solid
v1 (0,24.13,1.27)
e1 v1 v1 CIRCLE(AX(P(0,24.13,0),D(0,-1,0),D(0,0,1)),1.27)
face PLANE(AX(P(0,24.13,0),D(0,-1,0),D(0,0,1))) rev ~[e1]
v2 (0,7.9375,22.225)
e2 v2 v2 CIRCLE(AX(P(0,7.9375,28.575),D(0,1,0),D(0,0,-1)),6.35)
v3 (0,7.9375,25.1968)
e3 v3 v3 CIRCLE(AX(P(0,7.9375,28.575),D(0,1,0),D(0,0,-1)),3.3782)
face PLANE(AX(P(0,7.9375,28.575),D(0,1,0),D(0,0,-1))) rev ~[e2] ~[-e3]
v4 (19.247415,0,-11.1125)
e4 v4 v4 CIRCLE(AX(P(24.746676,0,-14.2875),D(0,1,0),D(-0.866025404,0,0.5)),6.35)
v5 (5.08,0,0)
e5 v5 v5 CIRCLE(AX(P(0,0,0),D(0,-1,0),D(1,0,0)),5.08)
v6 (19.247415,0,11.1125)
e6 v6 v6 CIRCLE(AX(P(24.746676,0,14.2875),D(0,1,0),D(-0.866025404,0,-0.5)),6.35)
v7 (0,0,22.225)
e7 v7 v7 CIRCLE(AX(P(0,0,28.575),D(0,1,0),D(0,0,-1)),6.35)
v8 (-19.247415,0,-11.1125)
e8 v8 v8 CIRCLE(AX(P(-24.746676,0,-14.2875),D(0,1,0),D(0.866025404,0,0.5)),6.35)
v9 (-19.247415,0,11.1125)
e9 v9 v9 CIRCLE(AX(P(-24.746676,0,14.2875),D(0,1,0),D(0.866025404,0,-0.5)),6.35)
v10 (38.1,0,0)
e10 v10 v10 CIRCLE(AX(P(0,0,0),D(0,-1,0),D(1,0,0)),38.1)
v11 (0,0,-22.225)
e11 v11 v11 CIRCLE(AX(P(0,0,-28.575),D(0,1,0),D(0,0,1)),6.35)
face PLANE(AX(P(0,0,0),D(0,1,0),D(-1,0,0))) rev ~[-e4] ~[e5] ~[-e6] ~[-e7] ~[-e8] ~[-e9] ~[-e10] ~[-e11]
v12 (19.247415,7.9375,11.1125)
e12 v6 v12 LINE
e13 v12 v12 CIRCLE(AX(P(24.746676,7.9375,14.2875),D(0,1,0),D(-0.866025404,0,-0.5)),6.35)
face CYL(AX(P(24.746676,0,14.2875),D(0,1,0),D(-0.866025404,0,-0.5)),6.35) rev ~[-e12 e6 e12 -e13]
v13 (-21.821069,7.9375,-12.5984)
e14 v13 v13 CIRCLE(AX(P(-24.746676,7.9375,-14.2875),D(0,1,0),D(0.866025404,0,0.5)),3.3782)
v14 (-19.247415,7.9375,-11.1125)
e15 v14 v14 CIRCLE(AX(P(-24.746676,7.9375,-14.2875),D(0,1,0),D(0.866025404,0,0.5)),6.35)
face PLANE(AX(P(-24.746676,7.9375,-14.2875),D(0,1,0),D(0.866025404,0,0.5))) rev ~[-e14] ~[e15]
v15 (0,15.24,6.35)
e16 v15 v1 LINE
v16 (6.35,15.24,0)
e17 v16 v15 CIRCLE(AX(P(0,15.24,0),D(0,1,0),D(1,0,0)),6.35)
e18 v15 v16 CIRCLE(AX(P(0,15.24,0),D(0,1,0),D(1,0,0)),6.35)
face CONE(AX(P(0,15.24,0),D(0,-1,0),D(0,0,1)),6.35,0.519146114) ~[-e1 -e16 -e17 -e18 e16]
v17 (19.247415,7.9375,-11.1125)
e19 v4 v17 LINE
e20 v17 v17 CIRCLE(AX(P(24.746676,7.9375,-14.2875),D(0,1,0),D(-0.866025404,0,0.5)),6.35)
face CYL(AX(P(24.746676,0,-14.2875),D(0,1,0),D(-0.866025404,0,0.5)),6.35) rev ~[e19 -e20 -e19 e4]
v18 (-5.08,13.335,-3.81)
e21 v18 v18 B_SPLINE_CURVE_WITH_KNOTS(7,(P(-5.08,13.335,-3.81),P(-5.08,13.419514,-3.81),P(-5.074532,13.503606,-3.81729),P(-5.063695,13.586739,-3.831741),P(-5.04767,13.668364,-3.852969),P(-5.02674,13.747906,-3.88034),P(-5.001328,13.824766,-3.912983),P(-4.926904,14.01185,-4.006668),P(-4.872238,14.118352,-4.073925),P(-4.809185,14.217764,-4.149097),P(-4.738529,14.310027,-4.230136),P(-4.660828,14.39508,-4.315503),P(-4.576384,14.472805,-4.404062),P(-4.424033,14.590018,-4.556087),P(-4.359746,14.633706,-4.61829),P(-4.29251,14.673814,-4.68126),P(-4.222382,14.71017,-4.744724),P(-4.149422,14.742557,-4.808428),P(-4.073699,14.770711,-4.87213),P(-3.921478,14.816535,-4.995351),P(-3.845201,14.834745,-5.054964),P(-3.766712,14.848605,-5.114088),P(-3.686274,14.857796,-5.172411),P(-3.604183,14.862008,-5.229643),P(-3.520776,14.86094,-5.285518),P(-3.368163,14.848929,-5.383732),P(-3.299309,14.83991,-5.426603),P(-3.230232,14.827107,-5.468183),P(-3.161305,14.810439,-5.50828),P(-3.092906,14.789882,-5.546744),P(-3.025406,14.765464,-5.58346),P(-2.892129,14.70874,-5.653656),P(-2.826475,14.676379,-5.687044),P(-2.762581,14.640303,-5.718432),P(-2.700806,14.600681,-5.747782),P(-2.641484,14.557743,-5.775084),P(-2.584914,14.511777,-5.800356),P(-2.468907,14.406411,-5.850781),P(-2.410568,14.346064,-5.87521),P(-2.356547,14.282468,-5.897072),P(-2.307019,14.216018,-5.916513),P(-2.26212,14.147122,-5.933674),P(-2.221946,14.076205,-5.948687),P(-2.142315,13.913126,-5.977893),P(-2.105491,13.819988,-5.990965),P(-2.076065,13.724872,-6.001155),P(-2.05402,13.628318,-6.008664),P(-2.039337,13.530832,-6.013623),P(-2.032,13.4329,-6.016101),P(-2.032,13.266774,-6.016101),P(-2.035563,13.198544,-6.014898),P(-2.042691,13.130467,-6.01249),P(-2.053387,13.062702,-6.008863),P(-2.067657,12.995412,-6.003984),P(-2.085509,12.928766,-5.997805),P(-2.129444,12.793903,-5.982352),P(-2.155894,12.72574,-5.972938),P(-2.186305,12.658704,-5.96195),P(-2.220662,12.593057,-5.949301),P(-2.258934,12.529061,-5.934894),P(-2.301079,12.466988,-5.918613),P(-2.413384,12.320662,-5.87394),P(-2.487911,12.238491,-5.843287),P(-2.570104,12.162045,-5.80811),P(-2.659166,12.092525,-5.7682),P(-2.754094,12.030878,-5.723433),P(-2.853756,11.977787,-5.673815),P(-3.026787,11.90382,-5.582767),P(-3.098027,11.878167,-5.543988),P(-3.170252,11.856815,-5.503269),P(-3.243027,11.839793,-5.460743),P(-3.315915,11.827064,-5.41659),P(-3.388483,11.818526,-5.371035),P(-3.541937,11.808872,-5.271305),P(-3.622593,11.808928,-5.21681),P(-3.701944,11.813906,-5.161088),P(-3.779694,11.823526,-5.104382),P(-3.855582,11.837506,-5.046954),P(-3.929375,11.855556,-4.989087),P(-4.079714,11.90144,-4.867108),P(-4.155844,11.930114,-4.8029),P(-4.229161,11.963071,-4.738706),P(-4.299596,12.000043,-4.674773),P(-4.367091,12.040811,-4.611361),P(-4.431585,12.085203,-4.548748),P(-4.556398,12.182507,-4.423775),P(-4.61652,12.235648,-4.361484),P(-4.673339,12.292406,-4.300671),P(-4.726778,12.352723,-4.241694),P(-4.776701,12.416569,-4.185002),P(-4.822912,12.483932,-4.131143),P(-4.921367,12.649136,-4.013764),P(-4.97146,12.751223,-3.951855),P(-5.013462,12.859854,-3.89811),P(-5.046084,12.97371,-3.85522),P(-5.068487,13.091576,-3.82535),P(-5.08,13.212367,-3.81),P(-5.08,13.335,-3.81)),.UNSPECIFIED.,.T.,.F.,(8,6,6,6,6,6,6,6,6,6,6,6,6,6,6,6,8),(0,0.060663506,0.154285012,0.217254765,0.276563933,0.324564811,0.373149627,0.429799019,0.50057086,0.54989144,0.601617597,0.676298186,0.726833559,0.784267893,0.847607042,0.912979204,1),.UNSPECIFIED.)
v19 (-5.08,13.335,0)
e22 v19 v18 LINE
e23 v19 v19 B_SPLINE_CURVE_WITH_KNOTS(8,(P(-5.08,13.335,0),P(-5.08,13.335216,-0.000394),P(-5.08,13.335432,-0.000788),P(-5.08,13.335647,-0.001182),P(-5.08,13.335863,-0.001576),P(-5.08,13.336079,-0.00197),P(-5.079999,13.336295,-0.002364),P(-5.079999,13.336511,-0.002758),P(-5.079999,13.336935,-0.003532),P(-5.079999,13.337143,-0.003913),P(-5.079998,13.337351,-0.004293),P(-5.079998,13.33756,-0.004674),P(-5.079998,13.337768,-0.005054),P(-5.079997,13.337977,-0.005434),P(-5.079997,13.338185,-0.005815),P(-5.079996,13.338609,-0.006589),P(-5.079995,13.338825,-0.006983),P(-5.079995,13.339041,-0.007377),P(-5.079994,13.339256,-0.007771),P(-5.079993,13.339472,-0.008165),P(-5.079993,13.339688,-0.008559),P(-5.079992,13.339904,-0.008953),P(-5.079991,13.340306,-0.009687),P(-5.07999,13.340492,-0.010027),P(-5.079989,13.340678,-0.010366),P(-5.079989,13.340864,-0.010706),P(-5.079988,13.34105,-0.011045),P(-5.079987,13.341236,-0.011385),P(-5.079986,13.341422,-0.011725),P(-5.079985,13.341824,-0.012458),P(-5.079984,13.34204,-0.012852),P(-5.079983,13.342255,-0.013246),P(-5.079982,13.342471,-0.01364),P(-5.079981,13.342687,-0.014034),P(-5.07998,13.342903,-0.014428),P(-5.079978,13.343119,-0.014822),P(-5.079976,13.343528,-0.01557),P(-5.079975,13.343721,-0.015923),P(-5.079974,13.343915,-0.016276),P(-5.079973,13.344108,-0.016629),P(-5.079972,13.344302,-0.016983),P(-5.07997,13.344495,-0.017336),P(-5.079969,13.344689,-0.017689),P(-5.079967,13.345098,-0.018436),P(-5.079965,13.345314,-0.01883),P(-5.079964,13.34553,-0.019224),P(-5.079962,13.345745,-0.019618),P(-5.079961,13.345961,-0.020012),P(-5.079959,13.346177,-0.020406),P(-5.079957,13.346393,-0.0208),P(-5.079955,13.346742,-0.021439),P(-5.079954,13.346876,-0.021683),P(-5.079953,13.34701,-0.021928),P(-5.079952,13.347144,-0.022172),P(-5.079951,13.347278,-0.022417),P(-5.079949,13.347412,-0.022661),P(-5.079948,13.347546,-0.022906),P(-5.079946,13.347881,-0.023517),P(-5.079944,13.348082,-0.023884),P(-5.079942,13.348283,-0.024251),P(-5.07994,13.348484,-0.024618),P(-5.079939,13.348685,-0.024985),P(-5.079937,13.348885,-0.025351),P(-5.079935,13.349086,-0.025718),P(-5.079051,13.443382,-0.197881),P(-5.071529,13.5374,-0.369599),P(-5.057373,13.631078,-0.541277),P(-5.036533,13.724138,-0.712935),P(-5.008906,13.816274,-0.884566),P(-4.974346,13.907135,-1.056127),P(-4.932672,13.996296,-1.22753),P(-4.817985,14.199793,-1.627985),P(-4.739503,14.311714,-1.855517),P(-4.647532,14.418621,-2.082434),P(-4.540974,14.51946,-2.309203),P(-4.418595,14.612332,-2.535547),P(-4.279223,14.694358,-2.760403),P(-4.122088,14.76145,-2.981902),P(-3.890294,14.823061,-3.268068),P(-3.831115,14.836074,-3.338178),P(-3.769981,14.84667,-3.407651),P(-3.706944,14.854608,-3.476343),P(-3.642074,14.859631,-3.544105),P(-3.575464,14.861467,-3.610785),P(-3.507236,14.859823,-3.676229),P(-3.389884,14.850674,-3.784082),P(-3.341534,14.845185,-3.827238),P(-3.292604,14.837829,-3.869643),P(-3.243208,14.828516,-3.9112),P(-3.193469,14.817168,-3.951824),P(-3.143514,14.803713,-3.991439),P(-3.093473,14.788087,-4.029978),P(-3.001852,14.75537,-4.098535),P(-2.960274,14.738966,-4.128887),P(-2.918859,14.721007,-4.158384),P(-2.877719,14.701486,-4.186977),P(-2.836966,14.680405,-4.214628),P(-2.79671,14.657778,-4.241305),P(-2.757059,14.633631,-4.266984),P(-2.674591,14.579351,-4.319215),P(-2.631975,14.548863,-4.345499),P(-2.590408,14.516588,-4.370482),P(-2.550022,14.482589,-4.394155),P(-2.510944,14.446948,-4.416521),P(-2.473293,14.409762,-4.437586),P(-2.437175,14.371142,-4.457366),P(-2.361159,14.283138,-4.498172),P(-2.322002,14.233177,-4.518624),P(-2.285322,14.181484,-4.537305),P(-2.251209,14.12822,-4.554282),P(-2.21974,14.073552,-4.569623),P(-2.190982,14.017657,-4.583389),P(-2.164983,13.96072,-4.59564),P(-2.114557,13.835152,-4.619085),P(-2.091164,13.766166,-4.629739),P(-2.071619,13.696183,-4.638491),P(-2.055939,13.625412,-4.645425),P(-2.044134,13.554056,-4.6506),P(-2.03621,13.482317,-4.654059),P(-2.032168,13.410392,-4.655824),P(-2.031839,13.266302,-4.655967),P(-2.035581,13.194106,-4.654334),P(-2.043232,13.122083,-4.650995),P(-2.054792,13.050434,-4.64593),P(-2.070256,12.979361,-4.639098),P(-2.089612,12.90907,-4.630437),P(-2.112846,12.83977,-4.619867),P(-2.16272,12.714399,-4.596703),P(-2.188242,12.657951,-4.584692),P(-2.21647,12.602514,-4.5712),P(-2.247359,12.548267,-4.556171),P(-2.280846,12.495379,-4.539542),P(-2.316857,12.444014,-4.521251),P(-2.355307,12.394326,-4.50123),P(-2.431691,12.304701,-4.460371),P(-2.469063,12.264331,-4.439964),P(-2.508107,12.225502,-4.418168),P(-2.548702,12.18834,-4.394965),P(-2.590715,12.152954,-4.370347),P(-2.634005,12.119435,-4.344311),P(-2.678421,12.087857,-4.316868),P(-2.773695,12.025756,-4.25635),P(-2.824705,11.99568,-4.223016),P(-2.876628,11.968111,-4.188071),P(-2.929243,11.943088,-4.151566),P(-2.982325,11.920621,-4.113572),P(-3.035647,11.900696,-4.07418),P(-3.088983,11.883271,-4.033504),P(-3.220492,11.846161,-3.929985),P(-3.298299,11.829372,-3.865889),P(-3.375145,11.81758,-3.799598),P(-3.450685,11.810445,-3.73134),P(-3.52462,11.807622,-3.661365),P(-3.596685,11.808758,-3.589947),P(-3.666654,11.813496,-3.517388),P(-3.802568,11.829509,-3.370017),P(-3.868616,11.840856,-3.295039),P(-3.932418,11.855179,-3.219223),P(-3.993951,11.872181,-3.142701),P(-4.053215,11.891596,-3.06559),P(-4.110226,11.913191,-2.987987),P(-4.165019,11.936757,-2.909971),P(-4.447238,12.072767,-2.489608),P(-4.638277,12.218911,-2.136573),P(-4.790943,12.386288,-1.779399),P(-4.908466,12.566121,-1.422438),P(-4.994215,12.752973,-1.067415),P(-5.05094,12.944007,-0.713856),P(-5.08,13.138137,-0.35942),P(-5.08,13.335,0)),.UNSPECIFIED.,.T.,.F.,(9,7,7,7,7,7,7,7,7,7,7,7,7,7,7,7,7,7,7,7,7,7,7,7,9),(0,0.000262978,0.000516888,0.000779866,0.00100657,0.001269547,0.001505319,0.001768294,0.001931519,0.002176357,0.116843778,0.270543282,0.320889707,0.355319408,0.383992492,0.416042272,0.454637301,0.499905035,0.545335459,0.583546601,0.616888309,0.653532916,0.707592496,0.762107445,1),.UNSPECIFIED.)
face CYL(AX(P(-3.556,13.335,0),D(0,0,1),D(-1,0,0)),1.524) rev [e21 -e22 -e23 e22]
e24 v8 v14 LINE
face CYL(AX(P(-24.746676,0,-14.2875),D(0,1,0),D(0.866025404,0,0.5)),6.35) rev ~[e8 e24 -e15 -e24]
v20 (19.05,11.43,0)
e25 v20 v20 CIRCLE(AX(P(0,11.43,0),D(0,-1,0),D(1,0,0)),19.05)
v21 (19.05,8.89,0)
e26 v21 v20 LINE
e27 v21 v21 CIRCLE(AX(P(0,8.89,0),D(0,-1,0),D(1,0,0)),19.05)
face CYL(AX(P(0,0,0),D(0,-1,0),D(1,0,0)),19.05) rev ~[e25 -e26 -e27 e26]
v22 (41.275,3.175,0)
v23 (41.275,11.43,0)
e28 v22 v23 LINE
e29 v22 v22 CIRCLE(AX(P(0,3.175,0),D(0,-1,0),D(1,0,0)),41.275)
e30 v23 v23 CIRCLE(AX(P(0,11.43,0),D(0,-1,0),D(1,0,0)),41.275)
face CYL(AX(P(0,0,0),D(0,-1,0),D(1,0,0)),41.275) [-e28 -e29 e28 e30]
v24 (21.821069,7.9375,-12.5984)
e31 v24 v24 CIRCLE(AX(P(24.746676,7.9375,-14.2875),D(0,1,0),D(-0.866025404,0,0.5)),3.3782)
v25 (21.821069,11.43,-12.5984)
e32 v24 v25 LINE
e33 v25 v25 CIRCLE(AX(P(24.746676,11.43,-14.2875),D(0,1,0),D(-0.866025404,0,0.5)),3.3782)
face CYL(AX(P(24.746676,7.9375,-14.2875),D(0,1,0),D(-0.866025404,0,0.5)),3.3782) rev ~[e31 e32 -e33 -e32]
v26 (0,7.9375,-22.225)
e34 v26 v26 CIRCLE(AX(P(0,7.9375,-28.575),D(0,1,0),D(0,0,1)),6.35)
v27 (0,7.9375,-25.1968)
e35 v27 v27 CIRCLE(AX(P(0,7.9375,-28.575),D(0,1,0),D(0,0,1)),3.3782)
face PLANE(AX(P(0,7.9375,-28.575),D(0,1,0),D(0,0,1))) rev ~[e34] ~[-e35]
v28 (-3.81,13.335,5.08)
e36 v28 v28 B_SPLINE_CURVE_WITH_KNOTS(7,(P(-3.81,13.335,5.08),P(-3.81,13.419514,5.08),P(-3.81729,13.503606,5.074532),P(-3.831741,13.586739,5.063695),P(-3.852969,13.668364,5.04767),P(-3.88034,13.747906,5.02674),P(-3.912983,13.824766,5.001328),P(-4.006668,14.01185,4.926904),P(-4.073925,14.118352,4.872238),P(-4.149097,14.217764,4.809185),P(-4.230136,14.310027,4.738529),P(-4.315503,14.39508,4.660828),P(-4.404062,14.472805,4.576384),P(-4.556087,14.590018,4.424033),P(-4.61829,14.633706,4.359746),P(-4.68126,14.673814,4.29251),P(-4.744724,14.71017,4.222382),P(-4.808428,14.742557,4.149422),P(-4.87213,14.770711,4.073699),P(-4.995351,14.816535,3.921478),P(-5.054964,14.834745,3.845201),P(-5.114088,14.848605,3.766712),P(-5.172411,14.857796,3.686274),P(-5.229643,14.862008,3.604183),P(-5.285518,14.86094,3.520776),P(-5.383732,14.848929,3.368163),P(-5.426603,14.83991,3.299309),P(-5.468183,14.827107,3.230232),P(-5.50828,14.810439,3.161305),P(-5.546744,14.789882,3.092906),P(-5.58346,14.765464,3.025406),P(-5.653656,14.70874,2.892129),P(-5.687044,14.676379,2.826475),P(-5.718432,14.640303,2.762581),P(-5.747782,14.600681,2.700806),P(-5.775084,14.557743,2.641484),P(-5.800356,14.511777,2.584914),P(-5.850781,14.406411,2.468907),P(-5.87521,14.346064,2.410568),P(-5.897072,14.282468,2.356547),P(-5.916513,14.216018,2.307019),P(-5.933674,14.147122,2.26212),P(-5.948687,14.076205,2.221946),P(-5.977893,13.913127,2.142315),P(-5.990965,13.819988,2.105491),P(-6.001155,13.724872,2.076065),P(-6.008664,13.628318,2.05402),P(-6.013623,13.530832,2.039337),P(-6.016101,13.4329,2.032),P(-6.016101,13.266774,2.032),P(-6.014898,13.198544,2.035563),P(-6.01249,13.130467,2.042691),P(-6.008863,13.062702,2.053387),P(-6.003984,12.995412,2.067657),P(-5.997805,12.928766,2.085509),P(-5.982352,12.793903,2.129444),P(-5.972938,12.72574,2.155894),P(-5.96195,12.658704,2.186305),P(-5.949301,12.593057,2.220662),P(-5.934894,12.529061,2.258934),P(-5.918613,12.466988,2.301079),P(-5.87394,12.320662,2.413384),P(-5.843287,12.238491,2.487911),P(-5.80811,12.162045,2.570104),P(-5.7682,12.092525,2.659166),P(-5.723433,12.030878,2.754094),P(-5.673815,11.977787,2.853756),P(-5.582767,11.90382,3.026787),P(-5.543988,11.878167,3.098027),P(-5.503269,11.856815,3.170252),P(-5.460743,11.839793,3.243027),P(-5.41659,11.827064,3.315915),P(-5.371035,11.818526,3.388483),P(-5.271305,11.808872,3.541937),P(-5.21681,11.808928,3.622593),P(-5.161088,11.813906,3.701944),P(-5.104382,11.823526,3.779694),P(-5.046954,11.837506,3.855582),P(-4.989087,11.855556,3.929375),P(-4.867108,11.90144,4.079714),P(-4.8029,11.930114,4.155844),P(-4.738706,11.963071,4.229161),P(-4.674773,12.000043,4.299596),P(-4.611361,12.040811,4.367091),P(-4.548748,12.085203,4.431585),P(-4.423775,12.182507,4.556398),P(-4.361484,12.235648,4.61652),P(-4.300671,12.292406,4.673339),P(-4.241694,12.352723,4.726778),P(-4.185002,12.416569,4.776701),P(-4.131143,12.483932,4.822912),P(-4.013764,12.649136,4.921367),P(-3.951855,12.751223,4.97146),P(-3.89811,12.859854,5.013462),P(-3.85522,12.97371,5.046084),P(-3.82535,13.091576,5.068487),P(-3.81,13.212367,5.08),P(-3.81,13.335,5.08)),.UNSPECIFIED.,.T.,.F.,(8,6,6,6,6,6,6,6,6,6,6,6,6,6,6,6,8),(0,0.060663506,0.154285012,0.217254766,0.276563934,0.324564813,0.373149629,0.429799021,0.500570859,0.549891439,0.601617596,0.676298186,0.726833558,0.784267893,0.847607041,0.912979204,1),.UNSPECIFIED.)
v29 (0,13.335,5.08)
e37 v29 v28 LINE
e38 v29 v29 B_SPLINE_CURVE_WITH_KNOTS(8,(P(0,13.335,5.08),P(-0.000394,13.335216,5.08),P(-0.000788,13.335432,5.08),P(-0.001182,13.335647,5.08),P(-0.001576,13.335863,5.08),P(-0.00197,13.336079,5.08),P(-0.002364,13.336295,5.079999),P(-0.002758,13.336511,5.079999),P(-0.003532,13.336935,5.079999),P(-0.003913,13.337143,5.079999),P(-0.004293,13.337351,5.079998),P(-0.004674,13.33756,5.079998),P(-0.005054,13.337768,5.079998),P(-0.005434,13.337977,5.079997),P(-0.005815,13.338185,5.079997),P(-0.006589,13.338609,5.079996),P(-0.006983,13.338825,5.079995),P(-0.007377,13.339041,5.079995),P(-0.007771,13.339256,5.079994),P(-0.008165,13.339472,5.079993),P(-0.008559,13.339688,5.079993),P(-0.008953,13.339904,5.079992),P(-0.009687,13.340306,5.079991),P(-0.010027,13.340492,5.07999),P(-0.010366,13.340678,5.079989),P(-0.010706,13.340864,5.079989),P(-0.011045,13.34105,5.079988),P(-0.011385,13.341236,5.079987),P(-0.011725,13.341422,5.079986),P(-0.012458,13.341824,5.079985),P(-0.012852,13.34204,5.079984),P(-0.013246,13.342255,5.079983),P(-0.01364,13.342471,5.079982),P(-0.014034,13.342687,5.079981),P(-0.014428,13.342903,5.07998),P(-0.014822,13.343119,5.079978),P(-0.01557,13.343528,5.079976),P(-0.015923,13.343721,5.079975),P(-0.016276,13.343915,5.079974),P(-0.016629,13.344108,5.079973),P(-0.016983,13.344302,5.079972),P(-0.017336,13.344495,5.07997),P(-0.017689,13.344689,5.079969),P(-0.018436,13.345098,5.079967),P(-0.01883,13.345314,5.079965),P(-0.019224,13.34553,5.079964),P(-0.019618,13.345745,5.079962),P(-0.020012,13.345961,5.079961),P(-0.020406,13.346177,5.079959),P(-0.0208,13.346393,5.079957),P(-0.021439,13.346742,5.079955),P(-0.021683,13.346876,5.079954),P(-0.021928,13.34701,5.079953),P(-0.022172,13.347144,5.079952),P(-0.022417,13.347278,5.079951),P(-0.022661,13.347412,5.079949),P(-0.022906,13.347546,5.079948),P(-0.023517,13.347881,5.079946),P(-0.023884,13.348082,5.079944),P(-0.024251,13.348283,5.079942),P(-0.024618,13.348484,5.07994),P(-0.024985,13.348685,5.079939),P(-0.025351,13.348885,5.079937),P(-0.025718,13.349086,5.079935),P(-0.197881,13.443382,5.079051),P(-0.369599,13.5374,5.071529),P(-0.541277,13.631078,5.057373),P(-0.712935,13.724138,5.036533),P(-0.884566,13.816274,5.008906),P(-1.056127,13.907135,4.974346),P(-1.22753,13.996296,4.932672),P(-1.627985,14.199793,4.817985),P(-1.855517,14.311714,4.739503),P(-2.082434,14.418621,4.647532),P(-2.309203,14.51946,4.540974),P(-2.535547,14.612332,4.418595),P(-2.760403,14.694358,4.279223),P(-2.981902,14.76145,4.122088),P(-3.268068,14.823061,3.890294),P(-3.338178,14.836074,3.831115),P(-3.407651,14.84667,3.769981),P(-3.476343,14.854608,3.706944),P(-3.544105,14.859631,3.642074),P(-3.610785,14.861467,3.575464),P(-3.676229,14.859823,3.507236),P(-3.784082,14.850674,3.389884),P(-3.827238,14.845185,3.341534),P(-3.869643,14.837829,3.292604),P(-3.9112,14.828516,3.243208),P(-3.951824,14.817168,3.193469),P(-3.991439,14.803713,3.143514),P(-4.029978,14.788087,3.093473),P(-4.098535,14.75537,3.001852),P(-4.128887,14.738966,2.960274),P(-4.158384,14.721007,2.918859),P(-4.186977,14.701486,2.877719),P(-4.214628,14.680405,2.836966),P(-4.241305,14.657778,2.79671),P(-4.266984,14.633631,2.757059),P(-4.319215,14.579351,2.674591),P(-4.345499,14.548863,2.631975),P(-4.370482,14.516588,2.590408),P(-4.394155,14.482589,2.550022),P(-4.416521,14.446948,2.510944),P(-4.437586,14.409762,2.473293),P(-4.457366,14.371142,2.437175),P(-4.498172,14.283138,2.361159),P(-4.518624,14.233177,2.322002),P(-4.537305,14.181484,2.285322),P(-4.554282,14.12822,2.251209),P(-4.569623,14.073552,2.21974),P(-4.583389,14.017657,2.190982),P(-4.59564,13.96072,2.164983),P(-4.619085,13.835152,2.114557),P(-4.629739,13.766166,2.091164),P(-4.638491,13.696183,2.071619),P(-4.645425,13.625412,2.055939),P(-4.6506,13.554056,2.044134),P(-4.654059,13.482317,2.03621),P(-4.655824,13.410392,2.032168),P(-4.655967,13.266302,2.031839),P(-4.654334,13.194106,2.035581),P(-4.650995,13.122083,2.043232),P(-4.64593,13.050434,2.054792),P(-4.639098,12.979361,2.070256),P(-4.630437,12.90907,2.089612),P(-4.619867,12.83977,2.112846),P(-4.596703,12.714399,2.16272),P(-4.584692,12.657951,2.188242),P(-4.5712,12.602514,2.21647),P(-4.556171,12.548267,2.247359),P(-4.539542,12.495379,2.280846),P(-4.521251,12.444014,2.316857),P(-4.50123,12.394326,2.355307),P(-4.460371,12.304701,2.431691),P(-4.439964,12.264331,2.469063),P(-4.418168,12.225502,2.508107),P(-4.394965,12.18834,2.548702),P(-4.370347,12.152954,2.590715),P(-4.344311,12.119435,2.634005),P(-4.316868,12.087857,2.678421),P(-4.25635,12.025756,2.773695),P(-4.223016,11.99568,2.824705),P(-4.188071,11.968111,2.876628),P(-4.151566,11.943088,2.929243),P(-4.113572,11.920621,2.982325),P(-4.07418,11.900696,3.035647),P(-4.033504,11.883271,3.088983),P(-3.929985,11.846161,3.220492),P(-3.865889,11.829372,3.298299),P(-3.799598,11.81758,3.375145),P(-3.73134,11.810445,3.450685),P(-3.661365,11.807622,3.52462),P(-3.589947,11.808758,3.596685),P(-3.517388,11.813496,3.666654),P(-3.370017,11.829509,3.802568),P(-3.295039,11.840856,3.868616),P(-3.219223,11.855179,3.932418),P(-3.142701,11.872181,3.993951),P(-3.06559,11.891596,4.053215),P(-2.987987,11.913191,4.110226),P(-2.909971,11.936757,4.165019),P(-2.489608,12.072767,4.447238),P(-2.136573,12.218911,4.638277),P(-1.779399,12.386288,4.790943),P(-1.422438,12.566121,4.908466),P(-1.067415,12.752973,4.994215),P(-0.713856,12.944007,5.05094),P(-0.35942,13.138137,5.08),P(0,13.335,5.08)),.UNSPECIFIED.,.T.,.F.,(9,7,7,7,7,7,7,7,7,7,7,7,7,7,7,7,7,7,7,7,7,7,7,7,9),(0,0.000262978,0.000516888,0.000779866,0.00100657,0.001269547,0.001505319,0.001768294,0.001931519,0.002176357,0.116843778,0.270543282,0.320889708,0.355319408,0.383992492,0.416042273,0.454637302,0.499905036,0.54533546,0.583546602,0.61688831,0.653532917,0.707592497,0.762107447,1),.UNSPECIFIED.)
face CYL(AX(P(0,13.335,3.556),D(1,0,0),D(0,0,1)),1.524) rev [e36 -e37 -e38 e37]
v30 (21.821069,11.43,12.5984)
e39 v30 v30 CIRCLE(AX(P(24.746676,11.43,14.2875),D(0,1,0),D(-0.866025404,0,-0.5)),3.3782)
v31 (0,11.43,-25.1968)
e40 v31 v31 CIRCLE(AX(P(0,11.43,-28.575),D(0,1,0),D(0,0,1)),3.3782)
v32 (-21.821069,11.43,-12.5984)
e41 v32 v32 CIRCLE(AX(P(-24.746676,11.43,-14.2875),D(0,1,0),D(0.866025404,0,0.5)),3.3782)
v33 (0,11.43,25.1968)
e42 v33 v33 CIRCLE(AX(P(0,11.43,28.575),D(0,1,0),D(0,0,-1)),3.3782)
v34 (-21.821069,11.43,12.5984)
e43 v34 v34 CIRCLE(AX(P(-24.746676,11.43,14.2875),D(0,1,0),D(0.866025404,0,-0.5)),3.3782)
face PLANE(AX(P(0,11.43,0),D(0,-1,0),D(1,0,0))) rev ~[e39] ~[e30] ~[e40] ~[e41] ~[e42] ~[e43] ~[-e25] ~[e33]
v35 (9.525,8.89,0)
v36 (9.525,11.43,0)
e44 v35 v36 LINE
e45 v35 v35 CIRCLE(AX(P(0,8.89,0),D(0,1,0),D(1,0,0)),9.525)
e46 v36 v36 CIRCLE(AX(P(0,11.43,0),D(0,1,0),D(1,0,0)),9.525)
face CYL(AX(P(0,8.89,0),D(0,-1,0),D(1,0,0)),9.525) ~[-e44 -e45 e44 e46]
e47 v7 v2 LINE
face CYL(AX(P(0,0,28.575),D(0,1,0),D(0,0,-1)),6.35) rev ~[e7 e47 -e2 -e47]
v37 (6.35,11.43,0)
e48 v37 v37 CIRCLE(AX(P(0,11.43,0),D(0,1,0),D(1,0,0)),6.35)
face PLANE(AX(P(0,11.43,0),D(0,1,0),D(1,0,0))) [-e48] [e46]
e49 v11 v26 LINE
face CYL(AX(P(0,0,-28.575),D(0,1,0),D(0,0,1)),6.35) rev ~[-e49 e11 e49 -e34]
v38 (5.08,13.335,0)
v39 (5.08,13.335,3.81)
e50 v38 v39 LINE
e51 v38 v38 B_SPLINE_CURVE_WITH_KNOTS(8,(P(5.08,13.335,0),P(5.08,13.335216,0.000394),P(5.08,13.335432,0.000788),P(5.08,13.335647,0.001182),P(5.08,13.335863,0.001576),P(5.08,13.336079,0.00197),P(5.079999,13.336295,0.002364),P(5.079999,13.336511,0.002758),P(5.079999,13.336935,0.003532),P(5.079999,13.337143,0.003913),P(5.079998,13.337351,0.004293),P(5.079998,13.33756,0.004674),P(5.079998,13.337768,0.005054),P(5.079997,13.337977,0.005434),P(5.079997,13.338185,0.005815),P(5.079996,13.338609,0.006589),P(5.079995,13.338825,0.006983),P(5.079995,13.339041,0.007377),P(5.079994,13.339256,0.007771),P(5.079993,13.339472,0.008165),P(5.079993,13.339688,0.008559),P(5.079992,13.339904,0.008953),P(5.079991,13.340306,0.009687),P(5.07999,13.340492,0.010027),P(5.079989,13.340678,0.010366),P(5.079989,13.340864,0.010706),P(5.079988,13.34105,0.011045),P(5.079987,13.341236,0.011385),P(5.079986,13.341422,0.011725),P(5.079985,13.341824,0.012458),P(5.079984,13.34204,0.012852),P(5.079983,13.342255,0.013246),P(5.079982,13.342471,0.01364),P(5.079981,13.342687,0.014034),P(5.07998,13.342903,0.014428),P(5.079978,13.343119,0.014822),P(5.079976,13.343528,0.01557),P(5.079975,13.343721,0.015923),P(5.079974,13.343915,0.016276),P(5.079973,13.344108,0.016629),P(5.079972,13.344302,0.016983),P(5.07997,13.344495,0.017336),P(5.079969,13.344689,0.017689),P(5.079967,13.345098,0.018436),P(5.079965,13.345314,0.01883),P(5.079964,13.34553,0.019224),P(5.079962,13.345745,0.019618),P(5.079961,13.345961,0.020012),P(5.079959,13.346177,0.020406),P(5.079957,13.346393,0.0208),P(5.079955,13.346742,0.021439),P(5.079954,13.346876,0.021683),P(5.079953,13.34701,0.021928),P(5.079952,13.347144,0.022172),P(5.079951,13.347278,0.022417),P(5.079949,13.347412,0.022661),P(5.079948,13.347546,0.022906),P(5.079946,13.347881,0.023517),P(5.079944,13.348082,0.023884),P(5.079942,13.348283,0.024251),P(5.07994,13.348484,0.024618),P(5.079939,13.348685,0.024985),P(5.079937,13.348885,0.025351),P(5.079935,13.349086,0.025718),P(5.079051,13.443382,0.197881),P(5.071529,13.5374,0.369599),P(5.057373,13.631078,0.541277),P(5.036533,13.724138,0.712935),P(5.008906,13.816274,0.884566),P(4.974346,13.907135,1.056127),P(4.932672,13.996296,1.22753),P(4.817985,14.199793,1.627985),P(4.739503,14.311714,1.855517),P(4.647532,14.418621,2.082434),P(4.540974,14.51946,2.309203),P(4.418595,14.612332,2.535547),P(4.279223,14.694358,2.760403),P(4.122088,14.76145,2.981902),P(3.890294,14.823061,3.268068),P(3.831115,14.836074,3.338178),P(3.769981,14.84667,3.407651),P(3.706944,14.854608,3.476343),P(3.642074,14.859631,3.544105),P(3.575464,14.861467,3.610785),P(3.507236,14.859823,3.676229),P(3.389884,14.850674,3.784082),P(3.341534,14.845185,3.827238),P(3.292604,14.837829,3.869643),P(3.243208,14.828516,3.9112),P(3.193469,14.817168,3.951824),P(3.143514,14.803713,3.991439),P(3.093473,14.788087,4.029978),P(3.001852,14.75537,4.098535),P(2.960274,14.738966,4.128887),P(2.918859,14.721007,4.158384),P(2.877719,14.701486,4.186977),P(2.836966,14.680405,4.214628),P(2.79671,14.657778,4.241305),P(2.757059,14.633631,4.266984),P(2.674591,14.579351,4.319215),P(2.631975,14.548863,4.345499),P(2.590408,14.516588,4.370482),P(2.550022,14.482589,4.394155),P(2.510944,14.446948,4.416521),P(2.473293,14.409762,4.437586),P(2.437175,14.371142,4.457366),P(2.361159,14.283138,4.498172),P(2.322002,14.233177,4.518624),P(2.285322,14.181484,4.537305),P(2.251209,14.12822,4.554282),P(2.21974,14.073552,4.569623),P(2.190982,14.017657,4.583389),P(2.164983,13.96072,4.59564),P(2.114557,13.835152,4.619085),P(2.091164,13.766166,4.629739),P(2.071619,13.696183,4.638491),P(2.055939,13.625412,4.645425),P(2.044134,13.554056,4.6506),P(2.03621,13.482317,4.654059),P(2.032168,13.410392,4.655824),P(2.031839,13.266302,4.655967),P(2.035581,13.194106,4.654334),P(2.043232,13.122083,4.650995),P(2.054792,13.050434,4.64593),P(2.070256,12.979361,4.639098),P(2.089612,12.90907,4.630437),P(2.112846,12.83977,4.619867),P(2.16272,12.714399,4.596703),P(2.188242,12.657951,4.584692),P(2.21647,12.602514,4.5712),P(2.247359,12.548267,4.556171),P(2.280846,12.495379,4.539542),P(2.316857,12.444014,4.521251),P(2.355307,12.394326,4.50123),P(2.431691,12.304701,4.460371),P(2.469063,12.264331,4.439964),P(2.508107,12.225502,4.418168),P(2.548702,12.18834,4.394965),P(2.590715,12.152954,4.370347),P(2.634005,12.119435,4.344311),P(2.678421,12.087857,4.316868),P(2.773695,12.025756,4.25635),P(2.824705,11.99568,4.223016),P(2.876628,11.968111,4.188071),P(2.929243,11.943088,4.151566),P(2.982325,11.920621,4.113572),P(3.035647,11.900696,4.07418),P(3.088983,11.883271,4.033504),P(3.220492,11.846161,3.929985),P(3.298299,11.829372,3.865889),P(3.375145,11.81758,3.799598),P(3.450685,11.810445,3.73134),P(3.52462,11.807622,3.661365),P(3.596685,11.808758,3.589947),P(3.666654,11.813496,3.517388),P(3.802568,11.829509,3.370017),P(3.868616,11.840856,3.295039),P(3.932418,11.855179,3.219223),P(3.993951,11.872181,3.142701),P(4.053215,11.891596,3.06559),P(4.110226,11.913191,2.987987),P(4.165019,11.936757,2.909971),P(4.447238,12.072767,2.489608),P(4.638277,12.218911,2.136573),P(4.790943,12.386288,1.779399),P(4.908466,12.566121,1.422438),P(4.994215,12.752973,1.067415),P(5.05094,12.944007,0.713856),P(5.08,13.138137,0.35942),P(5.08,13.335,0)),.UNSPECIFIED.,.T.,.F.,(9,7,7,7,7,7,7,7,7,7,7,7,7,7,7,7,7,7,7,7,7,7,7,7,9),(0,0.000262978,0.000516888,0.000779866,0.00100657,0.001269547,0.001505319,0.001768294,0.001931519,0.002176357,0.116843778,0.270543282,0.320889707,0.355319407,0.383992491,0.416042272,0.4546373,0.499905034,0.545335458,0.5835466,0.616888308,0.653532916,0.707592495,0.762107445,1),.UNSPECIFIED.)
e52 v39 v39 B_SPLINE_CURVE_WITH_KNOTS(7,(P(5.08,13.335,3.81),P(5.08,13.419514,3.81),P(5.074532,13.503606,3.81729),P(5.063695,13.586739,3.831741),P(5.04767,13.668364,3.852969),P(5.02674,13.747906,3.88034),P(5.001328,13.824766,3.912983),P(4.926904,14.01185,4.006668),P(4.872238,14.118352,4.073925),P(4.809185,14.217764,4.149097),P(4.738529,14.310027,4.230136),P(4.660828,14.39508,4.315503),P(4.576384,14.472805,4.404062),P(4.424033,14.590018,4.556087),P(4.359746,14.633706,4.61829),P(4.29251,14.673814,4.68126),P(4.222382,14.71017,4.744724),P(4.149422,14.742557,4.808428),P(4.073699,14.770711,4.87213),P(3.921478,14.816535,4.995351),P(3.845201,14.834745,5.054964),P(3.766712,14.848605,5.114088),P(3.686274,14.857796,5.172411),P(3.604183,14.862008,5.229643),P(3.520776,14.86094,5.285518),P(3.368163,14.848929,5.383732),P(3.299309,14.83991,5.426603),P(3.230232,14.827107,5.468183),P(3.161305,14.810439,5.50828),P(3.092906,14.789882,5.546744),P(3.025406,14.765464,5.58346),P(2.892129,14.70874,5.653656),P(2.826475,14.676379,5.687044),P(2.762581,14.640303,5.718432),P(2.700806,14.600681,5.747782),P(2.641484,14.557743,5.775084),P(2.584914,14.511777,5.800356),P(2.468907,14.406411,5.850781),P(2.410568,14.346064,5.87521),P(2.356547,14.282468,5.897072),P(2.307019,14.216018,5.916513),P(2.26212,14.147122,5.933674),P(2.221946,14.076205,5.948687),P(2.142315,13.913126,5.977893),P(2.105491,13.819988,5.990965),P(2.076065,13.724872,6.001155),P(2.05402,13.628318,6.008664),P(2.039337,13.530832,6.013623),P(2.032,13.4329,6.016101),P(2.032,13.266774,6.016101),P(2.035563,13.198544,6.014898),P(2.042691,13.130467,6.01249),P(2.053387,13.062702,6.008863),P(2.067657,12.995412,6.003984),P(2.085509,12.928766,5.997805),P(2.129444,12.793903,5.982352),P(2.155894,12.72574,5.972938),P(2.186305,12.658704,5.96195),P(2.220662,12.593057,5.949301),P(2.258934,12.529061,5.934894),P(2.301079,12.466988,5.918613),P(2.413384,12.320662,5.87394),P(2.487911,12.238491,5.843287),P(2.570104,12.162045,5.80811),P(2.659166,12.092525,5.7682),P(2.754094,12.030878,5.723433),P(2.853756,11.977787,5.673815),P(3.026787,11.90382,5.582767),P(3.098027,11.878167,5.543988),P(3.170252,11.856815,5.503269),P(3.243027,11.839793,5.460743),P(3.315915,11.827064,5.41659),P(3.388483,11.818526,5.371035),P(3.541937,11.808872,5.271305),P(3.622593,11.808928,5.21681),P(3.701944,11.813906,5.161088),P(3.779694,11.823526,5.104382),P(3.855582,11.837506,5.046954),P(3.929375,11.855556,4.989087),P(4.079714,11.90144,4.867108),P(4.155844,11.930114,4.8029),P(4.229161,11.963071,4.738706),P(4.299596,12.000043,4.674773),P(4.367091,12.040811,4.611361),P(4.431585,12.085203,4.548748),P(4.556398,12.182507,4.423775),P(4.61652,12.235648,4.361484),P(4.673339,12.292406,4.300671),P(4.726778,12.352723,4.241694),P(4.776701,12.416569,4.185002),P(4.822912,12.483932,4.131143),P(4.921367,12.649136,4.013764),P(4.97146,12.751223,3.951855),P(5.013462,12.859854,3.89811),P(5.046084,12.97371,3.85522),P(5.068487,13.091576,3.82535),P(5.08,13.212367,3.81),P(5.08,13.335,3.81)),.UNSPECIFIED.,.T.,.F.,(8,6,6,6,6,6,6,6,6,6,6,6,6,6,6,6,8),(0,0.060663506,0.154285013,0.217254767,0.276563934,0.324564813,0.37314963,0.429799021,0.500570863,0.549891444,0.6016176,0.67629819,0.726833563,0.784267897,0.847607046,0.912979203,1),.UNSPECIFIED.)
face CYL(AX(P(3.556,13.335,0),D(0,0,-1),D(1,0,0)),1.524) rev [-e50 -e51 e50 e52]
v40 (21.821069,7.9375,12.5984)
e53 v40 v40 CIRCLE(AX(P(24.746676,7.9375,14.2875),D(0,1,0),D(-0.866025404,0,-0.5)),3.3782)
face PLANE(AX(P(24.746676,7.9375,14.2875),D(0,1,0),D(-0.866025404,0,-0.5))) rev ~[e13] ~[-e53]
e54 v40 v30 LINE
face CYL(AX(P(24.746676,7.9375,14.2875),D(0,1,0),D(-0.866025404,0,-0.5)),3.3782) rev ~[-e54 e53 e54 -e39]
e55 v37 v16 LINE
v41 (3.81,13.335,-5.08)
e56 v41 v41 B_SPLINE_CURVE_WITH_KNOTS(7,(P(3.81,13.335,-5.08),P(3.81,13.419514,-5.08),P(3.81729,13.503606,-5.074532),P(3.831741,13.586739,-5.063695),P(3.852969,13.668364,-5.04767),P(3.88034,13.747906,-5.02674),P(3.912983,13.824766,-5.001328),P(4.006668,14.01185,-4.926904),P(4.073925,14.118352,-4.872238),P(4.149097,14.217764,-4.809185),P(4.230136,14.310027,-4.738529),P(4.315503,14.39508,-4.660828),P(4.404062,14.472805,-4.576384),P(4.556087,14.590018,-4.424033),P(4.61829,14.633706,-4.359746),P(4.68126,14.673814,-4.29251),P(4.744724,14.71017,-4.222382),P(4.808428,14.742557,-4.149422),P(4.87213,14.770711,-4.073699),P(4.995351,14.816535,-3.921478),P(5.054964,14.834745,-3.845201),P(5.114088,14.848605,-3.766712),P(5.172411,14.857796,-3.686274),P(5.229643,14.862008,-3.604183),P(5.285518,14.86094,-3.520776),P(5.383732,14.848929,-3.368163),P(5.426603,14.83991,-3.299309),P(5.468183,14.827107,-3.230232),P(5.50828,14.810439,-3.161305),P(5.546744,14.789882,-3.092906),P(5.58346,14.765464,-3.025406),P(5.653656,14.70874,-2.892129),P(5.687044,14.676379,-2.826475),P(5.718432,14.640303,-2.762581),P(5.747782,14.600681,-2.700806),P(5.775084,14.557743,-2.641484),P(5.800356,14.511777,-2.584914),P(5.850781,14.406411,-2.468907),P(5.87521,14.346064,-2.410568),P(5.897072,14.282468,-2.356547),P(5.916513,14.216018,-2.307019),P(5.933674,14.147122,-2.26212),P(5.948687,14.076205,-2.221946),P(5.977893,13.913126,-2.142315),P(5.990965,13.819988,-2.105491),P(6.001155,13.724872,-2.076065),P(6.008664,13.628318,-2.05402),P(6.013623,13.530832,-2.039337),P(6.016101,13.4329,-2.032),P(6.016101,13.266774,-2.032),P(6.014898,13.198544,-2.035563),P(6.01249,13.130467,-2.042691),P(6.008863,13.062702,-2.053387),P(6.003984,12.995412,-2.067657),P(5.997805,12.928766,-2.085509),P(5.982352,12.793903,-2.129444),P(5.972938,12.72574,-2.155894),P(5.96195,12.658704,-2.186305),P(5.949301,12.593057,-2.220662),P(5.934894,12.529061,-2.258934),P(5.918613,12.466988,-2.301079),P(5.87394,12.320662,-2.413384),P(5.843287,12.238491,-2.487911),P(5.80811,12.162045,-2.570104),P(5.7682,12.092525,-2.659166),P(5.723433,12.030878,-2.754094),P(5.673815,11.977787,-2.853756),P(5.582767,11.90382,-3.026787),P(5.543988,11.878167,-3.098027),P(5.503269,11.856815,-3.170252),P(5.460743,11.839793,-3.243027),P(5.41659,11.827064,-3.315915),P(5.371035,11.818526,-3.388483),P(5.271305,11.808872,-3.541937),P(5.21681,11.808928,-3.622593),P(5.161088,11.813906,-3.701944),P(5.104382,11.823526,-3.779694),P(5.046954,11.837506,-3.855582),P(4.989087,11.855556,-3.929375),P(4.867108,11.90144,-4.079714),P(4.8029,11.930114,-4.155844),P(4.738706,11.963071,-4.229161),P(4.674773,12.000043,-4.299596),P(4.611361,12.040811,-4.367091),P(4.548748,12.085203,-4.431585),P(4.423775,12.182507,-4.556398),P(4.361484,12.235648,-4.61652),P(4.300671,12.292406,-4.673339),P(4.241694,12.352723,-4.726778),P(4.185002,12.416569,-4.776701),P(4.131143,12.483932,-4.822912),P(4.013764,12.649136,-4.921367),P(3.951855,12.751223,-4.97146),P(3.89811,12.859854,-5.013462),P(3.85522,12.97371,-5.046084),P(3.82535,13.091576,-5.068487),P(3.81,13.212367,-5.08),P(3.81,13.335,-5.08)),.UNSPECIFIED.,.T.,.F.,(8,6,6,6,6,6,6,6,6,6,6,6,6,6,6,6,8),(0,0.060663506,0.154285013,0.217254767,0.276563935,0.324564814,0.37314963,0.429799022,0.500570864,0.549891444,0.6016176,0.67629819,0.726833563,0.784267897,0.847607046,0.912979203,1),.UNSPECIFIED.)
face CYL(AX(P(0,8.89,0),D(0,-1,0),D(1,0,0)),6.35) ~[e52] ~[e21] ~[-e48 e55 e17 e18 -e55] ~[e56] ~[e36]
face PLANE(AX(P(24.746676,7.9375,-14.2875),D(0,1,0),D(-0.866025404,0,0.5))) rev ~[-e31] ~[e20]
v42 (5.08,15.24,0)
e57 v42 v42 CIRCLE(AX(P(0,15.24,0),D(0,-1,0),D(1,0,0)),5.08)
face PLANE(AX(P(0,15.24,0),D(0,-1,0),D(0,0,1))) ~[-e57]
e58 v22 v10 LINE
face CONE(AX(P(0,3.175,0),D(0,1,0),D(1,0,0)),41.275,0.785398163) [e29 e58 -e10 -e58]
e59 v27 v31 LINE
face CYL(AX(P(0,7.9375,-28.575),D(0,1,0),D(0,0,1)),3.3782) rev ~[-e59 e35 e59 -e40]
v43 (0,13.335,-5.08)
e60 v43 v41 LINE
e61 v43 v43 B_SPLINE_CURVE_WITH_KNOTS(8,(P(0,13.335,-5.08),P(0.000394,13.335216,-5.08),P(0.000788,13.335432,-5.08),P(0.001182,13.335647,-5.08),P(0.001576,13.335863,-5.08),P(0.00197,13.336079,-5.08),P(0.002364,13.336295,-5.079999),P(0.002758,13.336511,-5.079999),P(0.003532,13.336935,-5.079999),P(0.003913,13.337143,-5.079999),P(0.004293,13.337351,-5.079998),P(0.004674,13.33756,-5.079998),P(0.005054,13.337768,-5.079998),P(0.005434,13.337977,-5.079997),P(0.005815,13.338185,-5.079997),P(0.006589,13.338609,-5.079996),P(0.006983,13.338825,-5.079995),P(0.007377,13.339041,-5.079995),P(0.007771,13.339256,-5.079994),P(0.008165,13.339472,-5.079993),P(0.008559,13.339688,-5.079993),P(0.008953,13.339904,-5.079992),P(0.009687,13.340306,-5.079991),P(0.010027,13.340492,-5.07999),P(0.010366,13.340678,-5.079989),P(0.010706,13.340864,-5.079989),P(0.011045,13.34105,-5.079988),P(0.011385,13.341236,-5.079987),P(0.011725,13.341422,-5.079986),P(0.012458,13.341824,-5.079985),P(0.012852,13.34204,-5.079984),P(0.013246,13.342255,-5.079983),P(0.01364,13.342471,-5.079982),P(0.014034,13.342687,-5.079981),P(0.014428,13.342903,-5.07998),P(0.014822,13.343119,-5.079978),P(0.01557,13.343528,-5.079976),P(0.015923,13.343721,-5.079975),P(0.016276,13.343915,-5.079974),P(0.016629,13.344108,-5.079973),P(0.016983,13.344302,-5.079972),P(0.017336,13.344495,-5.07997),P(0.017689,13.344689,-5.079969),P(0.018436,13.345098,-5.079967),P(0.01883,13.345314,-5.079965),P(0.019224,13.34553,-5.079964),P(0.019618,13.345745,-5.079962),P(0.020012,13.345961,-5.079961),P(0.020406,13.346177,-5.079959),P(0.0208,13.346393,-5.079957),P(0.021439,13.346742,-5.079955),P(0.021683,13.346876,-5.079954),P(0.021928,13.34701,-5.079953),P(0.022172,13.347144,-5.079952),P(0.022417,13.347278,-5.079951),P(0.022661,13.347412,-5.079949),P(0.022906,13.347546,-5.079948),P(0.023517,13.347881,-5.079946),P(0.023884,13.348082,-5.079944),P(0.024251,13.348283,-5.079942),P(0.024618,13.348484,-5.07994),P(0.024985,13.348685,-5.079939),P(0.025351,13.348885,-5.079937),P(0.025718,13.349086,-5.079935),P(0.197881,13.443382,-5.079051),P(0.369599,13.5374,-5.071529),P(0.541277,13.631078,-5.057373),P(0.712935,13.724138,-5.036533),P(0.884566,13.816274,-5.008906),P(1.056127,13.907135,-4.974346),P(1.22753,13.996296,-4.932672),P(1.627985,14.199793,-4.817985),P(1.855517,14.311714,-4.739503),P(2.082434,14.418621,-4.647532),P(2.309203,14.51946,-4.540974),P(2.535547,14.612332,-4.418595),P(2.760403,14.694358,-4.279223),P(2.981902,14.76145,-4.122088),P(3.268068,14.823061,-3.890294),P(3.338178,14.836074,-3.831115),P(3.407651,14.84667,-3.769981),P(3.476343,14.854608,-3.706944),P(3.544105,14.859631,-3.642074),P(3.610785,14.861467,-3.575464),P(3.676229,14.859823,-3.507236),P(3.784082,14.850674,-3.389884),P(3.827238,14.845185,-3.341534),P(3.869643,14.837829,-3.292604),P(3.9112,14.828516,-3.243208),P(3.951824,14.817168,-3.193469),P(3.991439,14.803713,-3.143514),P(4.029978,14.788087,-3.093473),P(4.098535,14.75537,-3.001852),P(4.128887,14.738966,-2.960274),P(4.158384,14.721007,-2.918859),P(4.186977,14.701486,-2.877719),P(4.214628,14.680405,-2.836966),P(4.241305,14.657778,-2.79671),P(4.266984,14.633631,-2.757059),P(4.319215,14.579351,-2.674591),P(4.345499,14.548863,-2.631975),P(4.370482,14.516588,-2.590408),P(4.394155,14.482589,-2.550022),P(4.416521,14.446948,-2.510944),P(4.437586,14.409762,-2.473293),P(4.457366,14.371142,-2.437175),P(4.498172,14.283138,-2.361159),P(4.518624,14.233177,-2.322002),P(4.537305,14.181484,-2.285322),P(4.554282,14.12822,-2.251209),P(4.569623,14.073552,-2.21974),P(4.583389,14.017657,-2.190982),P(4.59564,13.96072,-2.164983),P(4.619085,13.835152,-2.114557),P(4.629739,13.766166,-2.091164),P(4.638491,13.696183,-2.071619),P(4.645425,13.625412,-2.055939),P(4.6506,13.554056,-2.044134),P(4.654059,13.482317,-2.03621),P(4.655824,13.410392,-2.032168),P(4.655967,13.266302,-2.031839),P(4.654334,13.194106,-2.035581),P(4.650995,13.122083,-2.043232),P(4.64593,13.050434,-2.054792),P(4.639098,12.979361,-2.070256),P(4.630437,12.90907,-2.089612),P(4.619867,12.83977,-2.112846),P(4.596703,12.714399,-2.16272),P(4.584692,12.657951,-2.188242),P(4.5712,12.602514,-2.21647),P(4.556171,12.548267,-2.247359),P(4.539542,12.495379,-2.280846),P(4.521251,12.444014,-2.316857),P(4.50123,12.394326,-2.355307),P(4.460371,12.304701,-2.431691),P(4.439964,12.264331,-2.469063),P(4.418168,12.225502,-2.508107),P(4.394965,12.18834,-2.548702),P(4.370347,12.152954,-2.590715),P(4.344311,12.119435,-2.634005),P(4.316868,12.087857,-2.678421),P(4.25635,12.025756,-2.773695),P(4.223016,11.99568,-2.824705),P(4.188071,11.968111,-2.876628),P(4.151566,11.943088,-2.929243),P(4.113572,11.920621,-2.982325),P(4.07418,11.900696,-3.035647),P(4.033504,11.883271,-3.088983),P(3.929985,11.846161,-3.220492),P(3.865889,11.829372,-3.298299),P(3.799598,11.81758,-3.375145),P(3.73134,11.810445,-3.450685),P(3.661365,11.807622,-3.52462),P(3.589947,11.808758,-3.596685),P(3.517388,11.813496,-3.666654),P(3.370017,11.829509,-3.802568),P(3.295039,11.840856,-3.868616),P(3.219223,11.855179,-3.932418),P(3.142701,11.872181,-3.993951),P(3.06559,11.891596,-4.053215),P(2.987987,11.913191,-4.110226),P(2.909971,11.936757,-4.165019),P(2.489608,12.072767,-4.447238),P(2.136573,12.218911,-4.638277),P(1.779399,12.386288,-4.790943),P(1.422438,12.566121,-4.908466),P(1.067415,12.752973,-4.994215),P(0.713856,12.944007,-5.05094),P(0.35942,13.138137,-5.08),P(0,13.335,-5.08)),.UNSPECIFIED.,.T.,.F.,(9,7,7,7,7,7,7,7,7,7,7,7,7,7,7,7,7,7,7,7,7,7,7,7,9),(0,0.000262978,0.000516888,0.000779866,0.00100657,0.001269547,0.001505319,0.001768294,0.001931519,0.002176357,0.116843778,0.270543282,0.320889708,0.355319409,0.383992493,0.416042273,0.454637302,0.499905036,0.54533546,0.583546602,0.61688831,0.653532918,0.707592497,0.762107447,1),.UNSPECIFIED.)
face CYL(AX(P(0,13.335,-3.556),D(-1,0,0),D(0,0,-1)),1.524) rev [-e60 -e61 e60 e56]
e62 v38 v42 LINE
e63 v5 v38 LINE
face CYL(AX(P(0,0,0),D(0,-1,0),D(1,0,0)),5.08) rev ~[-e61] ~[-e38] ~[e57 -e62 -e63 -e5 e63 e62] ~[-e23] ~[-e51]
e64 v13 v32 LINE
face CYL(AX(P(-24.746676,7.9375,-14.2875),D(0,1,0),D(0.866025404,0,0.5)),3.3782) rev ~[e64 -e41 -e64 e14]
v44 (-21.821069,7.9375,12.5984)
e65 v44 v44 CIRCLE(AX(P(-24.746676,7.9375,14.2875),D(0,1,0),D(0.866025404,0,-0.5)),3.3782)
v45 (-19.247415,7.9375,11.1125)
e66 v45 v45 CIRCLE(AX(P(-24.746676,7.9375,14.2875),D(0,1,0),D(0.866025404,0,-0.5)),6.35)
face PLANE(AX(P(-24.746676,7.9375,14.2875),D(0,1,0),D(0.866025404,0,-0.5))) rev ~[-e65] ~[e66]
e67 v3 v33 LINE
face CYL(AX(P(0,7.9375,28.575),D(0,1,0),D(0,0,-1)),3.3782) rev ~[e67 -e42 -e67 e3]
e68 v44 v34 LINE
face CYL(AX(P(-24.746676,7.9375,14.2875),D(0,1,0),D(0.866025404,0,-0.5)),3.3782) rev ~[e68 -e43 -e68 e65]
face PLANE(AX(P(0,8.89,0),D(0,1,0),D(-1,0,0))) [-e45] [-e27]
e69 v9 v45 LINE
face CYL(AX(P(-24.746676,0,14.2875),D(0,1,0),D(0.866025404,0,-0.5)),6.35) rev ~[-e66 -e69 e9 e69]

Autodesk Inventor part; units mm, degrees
ref_plane "YZ Plane" through (0, 0, 0) normal (1, 0, 0) x (0, 1, 0)
ref_plane "XZ Plane" through (0, 0, 0) normal (0, 1, 0) x (-1, 0, 0)
ref_plane "XY Plane" through (0, 0, 0) normal (0, 0, 1) x (1, 0, 0)
sketch "Sketch1" plane through (0, 0, 0) normal (0, 1, 0) x (-1, 0, 0)
  circle A0 centre (0, 0) radius 19.05
  dimension "d0" = 38.1
extrude "Extrusion1" add sketch "Sketch1" along normal blind 8.89
sketch "Sketch14" plane through (0, 0, 0) normal (0, -1, 0) x (1, 0, 0)
  circle A0 centre (0, 0) radius 19.05
  circle A1 centre (0, 0) radius 41.275
  circle A2 centre (0, 0) radius 19.05 projected
  dimension "d89" = 82.55
extrude "Extrusion7" add sketch "Sketch14" against normal blind 11.43
sketch "Sketch2" plane through (0, 0, 0) normal (0, -1, 0) x (1, 0, 0)
  point P0 (0, 0)
  point P1 (0, 28.575)
  dimension "d27" = 28.575
hole "Hole1" at (0, 0, 28.575) direction (0, 1, 0) diameter 6.7564 end through all counterbore diameter 12.7 counterbore depth 7.9375 clearance for "Socket Head Cap Screw" size "1/4" standard "Ansi Unified Screw Threads"
pattern_circular "Circular Pattern1" count 6 over 360 about axis through (0, -10, 0) along (0, 1, 0) of "Hole1"
sketch "Sketch4" plane through (0, 8.89, 0) normal (0, 1, 0) x (1, 0, 0)
  circle A0 centre (0, 0) radius 6.35
  dimension "d15" = 12.7
extrude "Extrusion2" add sketch "Sketch4" along normal blind 6.35
sketch "Sketch5" plane through (0, 0, 0) normal (0, -1, 0) x (1, 0, 0)
  circle A0 centre (0, 0) radius 5.08
  dimension "d18" = 10.16
extrude "Extrusion3" cut sketch "Sketch5" against normal through all
sketch "Sketch6" plane through (0, 0, 0) normal (1, 0, 0) x (0, 1, 0)
  line L0 (15.24, -6.35) -> (15.24, 6.35) projected
  line L1 (24.13, 0) -> (15.24, 0)
  line L2 (15.24, 6.35) -> (24.13, 1.27)
  line L3 (24.13, 1.27) -> (24.13, 0)
  point P0 (0, 0)
  dimension "d22" = 8.89
  dimension "d28" = 1.27
revolve "Revolution1" add sketch "Sketch6" angle 360 about axis through (0, 24.13, 0) along (0, -1, 0)
sketch "Sketch7" plane through (0, 8.89, 0) normal (0, 1, 0) x (1, 0, 0)
  circle A0 centre (0, 0) radius 9.525
  circle A1 centre (0, 0) radius 6.35
  circle A2 centre (0, 0) radius 6.35 projected
  dimension "d24" = 19.05
extrude "Extrusion4" add sketch "Sketch7" along normal blind 2.54
sketch "Sketch8" plane through (0, 0, 0) normal (0, 0, 1) x (1, 0, 0)
  circle A0 centre (3.556, 13.335) radius 1.524
  line L0 (-5.08, 15.24) -> (5.08, 15.24) projected
  point P0 (0, 0)
  dimension "d29" = 3.048
  dimension "d30" = 1.905
  dimension "d31" = 3.556
extrude "Extrusion5" cut sketch "Sketch8" along normal through all
pattern_circular "Circular Pattern2" count 4 over 360 about axis through (0, 8.89, 0) along (0, 1, 0) of "Extrusion5"
chamfer "Chamfer4" distance 3.175 angle 45 1 edges at (-41.275, 0, 0)
properties part number "ODSY-0003-203" material "Aluminum 6061"
